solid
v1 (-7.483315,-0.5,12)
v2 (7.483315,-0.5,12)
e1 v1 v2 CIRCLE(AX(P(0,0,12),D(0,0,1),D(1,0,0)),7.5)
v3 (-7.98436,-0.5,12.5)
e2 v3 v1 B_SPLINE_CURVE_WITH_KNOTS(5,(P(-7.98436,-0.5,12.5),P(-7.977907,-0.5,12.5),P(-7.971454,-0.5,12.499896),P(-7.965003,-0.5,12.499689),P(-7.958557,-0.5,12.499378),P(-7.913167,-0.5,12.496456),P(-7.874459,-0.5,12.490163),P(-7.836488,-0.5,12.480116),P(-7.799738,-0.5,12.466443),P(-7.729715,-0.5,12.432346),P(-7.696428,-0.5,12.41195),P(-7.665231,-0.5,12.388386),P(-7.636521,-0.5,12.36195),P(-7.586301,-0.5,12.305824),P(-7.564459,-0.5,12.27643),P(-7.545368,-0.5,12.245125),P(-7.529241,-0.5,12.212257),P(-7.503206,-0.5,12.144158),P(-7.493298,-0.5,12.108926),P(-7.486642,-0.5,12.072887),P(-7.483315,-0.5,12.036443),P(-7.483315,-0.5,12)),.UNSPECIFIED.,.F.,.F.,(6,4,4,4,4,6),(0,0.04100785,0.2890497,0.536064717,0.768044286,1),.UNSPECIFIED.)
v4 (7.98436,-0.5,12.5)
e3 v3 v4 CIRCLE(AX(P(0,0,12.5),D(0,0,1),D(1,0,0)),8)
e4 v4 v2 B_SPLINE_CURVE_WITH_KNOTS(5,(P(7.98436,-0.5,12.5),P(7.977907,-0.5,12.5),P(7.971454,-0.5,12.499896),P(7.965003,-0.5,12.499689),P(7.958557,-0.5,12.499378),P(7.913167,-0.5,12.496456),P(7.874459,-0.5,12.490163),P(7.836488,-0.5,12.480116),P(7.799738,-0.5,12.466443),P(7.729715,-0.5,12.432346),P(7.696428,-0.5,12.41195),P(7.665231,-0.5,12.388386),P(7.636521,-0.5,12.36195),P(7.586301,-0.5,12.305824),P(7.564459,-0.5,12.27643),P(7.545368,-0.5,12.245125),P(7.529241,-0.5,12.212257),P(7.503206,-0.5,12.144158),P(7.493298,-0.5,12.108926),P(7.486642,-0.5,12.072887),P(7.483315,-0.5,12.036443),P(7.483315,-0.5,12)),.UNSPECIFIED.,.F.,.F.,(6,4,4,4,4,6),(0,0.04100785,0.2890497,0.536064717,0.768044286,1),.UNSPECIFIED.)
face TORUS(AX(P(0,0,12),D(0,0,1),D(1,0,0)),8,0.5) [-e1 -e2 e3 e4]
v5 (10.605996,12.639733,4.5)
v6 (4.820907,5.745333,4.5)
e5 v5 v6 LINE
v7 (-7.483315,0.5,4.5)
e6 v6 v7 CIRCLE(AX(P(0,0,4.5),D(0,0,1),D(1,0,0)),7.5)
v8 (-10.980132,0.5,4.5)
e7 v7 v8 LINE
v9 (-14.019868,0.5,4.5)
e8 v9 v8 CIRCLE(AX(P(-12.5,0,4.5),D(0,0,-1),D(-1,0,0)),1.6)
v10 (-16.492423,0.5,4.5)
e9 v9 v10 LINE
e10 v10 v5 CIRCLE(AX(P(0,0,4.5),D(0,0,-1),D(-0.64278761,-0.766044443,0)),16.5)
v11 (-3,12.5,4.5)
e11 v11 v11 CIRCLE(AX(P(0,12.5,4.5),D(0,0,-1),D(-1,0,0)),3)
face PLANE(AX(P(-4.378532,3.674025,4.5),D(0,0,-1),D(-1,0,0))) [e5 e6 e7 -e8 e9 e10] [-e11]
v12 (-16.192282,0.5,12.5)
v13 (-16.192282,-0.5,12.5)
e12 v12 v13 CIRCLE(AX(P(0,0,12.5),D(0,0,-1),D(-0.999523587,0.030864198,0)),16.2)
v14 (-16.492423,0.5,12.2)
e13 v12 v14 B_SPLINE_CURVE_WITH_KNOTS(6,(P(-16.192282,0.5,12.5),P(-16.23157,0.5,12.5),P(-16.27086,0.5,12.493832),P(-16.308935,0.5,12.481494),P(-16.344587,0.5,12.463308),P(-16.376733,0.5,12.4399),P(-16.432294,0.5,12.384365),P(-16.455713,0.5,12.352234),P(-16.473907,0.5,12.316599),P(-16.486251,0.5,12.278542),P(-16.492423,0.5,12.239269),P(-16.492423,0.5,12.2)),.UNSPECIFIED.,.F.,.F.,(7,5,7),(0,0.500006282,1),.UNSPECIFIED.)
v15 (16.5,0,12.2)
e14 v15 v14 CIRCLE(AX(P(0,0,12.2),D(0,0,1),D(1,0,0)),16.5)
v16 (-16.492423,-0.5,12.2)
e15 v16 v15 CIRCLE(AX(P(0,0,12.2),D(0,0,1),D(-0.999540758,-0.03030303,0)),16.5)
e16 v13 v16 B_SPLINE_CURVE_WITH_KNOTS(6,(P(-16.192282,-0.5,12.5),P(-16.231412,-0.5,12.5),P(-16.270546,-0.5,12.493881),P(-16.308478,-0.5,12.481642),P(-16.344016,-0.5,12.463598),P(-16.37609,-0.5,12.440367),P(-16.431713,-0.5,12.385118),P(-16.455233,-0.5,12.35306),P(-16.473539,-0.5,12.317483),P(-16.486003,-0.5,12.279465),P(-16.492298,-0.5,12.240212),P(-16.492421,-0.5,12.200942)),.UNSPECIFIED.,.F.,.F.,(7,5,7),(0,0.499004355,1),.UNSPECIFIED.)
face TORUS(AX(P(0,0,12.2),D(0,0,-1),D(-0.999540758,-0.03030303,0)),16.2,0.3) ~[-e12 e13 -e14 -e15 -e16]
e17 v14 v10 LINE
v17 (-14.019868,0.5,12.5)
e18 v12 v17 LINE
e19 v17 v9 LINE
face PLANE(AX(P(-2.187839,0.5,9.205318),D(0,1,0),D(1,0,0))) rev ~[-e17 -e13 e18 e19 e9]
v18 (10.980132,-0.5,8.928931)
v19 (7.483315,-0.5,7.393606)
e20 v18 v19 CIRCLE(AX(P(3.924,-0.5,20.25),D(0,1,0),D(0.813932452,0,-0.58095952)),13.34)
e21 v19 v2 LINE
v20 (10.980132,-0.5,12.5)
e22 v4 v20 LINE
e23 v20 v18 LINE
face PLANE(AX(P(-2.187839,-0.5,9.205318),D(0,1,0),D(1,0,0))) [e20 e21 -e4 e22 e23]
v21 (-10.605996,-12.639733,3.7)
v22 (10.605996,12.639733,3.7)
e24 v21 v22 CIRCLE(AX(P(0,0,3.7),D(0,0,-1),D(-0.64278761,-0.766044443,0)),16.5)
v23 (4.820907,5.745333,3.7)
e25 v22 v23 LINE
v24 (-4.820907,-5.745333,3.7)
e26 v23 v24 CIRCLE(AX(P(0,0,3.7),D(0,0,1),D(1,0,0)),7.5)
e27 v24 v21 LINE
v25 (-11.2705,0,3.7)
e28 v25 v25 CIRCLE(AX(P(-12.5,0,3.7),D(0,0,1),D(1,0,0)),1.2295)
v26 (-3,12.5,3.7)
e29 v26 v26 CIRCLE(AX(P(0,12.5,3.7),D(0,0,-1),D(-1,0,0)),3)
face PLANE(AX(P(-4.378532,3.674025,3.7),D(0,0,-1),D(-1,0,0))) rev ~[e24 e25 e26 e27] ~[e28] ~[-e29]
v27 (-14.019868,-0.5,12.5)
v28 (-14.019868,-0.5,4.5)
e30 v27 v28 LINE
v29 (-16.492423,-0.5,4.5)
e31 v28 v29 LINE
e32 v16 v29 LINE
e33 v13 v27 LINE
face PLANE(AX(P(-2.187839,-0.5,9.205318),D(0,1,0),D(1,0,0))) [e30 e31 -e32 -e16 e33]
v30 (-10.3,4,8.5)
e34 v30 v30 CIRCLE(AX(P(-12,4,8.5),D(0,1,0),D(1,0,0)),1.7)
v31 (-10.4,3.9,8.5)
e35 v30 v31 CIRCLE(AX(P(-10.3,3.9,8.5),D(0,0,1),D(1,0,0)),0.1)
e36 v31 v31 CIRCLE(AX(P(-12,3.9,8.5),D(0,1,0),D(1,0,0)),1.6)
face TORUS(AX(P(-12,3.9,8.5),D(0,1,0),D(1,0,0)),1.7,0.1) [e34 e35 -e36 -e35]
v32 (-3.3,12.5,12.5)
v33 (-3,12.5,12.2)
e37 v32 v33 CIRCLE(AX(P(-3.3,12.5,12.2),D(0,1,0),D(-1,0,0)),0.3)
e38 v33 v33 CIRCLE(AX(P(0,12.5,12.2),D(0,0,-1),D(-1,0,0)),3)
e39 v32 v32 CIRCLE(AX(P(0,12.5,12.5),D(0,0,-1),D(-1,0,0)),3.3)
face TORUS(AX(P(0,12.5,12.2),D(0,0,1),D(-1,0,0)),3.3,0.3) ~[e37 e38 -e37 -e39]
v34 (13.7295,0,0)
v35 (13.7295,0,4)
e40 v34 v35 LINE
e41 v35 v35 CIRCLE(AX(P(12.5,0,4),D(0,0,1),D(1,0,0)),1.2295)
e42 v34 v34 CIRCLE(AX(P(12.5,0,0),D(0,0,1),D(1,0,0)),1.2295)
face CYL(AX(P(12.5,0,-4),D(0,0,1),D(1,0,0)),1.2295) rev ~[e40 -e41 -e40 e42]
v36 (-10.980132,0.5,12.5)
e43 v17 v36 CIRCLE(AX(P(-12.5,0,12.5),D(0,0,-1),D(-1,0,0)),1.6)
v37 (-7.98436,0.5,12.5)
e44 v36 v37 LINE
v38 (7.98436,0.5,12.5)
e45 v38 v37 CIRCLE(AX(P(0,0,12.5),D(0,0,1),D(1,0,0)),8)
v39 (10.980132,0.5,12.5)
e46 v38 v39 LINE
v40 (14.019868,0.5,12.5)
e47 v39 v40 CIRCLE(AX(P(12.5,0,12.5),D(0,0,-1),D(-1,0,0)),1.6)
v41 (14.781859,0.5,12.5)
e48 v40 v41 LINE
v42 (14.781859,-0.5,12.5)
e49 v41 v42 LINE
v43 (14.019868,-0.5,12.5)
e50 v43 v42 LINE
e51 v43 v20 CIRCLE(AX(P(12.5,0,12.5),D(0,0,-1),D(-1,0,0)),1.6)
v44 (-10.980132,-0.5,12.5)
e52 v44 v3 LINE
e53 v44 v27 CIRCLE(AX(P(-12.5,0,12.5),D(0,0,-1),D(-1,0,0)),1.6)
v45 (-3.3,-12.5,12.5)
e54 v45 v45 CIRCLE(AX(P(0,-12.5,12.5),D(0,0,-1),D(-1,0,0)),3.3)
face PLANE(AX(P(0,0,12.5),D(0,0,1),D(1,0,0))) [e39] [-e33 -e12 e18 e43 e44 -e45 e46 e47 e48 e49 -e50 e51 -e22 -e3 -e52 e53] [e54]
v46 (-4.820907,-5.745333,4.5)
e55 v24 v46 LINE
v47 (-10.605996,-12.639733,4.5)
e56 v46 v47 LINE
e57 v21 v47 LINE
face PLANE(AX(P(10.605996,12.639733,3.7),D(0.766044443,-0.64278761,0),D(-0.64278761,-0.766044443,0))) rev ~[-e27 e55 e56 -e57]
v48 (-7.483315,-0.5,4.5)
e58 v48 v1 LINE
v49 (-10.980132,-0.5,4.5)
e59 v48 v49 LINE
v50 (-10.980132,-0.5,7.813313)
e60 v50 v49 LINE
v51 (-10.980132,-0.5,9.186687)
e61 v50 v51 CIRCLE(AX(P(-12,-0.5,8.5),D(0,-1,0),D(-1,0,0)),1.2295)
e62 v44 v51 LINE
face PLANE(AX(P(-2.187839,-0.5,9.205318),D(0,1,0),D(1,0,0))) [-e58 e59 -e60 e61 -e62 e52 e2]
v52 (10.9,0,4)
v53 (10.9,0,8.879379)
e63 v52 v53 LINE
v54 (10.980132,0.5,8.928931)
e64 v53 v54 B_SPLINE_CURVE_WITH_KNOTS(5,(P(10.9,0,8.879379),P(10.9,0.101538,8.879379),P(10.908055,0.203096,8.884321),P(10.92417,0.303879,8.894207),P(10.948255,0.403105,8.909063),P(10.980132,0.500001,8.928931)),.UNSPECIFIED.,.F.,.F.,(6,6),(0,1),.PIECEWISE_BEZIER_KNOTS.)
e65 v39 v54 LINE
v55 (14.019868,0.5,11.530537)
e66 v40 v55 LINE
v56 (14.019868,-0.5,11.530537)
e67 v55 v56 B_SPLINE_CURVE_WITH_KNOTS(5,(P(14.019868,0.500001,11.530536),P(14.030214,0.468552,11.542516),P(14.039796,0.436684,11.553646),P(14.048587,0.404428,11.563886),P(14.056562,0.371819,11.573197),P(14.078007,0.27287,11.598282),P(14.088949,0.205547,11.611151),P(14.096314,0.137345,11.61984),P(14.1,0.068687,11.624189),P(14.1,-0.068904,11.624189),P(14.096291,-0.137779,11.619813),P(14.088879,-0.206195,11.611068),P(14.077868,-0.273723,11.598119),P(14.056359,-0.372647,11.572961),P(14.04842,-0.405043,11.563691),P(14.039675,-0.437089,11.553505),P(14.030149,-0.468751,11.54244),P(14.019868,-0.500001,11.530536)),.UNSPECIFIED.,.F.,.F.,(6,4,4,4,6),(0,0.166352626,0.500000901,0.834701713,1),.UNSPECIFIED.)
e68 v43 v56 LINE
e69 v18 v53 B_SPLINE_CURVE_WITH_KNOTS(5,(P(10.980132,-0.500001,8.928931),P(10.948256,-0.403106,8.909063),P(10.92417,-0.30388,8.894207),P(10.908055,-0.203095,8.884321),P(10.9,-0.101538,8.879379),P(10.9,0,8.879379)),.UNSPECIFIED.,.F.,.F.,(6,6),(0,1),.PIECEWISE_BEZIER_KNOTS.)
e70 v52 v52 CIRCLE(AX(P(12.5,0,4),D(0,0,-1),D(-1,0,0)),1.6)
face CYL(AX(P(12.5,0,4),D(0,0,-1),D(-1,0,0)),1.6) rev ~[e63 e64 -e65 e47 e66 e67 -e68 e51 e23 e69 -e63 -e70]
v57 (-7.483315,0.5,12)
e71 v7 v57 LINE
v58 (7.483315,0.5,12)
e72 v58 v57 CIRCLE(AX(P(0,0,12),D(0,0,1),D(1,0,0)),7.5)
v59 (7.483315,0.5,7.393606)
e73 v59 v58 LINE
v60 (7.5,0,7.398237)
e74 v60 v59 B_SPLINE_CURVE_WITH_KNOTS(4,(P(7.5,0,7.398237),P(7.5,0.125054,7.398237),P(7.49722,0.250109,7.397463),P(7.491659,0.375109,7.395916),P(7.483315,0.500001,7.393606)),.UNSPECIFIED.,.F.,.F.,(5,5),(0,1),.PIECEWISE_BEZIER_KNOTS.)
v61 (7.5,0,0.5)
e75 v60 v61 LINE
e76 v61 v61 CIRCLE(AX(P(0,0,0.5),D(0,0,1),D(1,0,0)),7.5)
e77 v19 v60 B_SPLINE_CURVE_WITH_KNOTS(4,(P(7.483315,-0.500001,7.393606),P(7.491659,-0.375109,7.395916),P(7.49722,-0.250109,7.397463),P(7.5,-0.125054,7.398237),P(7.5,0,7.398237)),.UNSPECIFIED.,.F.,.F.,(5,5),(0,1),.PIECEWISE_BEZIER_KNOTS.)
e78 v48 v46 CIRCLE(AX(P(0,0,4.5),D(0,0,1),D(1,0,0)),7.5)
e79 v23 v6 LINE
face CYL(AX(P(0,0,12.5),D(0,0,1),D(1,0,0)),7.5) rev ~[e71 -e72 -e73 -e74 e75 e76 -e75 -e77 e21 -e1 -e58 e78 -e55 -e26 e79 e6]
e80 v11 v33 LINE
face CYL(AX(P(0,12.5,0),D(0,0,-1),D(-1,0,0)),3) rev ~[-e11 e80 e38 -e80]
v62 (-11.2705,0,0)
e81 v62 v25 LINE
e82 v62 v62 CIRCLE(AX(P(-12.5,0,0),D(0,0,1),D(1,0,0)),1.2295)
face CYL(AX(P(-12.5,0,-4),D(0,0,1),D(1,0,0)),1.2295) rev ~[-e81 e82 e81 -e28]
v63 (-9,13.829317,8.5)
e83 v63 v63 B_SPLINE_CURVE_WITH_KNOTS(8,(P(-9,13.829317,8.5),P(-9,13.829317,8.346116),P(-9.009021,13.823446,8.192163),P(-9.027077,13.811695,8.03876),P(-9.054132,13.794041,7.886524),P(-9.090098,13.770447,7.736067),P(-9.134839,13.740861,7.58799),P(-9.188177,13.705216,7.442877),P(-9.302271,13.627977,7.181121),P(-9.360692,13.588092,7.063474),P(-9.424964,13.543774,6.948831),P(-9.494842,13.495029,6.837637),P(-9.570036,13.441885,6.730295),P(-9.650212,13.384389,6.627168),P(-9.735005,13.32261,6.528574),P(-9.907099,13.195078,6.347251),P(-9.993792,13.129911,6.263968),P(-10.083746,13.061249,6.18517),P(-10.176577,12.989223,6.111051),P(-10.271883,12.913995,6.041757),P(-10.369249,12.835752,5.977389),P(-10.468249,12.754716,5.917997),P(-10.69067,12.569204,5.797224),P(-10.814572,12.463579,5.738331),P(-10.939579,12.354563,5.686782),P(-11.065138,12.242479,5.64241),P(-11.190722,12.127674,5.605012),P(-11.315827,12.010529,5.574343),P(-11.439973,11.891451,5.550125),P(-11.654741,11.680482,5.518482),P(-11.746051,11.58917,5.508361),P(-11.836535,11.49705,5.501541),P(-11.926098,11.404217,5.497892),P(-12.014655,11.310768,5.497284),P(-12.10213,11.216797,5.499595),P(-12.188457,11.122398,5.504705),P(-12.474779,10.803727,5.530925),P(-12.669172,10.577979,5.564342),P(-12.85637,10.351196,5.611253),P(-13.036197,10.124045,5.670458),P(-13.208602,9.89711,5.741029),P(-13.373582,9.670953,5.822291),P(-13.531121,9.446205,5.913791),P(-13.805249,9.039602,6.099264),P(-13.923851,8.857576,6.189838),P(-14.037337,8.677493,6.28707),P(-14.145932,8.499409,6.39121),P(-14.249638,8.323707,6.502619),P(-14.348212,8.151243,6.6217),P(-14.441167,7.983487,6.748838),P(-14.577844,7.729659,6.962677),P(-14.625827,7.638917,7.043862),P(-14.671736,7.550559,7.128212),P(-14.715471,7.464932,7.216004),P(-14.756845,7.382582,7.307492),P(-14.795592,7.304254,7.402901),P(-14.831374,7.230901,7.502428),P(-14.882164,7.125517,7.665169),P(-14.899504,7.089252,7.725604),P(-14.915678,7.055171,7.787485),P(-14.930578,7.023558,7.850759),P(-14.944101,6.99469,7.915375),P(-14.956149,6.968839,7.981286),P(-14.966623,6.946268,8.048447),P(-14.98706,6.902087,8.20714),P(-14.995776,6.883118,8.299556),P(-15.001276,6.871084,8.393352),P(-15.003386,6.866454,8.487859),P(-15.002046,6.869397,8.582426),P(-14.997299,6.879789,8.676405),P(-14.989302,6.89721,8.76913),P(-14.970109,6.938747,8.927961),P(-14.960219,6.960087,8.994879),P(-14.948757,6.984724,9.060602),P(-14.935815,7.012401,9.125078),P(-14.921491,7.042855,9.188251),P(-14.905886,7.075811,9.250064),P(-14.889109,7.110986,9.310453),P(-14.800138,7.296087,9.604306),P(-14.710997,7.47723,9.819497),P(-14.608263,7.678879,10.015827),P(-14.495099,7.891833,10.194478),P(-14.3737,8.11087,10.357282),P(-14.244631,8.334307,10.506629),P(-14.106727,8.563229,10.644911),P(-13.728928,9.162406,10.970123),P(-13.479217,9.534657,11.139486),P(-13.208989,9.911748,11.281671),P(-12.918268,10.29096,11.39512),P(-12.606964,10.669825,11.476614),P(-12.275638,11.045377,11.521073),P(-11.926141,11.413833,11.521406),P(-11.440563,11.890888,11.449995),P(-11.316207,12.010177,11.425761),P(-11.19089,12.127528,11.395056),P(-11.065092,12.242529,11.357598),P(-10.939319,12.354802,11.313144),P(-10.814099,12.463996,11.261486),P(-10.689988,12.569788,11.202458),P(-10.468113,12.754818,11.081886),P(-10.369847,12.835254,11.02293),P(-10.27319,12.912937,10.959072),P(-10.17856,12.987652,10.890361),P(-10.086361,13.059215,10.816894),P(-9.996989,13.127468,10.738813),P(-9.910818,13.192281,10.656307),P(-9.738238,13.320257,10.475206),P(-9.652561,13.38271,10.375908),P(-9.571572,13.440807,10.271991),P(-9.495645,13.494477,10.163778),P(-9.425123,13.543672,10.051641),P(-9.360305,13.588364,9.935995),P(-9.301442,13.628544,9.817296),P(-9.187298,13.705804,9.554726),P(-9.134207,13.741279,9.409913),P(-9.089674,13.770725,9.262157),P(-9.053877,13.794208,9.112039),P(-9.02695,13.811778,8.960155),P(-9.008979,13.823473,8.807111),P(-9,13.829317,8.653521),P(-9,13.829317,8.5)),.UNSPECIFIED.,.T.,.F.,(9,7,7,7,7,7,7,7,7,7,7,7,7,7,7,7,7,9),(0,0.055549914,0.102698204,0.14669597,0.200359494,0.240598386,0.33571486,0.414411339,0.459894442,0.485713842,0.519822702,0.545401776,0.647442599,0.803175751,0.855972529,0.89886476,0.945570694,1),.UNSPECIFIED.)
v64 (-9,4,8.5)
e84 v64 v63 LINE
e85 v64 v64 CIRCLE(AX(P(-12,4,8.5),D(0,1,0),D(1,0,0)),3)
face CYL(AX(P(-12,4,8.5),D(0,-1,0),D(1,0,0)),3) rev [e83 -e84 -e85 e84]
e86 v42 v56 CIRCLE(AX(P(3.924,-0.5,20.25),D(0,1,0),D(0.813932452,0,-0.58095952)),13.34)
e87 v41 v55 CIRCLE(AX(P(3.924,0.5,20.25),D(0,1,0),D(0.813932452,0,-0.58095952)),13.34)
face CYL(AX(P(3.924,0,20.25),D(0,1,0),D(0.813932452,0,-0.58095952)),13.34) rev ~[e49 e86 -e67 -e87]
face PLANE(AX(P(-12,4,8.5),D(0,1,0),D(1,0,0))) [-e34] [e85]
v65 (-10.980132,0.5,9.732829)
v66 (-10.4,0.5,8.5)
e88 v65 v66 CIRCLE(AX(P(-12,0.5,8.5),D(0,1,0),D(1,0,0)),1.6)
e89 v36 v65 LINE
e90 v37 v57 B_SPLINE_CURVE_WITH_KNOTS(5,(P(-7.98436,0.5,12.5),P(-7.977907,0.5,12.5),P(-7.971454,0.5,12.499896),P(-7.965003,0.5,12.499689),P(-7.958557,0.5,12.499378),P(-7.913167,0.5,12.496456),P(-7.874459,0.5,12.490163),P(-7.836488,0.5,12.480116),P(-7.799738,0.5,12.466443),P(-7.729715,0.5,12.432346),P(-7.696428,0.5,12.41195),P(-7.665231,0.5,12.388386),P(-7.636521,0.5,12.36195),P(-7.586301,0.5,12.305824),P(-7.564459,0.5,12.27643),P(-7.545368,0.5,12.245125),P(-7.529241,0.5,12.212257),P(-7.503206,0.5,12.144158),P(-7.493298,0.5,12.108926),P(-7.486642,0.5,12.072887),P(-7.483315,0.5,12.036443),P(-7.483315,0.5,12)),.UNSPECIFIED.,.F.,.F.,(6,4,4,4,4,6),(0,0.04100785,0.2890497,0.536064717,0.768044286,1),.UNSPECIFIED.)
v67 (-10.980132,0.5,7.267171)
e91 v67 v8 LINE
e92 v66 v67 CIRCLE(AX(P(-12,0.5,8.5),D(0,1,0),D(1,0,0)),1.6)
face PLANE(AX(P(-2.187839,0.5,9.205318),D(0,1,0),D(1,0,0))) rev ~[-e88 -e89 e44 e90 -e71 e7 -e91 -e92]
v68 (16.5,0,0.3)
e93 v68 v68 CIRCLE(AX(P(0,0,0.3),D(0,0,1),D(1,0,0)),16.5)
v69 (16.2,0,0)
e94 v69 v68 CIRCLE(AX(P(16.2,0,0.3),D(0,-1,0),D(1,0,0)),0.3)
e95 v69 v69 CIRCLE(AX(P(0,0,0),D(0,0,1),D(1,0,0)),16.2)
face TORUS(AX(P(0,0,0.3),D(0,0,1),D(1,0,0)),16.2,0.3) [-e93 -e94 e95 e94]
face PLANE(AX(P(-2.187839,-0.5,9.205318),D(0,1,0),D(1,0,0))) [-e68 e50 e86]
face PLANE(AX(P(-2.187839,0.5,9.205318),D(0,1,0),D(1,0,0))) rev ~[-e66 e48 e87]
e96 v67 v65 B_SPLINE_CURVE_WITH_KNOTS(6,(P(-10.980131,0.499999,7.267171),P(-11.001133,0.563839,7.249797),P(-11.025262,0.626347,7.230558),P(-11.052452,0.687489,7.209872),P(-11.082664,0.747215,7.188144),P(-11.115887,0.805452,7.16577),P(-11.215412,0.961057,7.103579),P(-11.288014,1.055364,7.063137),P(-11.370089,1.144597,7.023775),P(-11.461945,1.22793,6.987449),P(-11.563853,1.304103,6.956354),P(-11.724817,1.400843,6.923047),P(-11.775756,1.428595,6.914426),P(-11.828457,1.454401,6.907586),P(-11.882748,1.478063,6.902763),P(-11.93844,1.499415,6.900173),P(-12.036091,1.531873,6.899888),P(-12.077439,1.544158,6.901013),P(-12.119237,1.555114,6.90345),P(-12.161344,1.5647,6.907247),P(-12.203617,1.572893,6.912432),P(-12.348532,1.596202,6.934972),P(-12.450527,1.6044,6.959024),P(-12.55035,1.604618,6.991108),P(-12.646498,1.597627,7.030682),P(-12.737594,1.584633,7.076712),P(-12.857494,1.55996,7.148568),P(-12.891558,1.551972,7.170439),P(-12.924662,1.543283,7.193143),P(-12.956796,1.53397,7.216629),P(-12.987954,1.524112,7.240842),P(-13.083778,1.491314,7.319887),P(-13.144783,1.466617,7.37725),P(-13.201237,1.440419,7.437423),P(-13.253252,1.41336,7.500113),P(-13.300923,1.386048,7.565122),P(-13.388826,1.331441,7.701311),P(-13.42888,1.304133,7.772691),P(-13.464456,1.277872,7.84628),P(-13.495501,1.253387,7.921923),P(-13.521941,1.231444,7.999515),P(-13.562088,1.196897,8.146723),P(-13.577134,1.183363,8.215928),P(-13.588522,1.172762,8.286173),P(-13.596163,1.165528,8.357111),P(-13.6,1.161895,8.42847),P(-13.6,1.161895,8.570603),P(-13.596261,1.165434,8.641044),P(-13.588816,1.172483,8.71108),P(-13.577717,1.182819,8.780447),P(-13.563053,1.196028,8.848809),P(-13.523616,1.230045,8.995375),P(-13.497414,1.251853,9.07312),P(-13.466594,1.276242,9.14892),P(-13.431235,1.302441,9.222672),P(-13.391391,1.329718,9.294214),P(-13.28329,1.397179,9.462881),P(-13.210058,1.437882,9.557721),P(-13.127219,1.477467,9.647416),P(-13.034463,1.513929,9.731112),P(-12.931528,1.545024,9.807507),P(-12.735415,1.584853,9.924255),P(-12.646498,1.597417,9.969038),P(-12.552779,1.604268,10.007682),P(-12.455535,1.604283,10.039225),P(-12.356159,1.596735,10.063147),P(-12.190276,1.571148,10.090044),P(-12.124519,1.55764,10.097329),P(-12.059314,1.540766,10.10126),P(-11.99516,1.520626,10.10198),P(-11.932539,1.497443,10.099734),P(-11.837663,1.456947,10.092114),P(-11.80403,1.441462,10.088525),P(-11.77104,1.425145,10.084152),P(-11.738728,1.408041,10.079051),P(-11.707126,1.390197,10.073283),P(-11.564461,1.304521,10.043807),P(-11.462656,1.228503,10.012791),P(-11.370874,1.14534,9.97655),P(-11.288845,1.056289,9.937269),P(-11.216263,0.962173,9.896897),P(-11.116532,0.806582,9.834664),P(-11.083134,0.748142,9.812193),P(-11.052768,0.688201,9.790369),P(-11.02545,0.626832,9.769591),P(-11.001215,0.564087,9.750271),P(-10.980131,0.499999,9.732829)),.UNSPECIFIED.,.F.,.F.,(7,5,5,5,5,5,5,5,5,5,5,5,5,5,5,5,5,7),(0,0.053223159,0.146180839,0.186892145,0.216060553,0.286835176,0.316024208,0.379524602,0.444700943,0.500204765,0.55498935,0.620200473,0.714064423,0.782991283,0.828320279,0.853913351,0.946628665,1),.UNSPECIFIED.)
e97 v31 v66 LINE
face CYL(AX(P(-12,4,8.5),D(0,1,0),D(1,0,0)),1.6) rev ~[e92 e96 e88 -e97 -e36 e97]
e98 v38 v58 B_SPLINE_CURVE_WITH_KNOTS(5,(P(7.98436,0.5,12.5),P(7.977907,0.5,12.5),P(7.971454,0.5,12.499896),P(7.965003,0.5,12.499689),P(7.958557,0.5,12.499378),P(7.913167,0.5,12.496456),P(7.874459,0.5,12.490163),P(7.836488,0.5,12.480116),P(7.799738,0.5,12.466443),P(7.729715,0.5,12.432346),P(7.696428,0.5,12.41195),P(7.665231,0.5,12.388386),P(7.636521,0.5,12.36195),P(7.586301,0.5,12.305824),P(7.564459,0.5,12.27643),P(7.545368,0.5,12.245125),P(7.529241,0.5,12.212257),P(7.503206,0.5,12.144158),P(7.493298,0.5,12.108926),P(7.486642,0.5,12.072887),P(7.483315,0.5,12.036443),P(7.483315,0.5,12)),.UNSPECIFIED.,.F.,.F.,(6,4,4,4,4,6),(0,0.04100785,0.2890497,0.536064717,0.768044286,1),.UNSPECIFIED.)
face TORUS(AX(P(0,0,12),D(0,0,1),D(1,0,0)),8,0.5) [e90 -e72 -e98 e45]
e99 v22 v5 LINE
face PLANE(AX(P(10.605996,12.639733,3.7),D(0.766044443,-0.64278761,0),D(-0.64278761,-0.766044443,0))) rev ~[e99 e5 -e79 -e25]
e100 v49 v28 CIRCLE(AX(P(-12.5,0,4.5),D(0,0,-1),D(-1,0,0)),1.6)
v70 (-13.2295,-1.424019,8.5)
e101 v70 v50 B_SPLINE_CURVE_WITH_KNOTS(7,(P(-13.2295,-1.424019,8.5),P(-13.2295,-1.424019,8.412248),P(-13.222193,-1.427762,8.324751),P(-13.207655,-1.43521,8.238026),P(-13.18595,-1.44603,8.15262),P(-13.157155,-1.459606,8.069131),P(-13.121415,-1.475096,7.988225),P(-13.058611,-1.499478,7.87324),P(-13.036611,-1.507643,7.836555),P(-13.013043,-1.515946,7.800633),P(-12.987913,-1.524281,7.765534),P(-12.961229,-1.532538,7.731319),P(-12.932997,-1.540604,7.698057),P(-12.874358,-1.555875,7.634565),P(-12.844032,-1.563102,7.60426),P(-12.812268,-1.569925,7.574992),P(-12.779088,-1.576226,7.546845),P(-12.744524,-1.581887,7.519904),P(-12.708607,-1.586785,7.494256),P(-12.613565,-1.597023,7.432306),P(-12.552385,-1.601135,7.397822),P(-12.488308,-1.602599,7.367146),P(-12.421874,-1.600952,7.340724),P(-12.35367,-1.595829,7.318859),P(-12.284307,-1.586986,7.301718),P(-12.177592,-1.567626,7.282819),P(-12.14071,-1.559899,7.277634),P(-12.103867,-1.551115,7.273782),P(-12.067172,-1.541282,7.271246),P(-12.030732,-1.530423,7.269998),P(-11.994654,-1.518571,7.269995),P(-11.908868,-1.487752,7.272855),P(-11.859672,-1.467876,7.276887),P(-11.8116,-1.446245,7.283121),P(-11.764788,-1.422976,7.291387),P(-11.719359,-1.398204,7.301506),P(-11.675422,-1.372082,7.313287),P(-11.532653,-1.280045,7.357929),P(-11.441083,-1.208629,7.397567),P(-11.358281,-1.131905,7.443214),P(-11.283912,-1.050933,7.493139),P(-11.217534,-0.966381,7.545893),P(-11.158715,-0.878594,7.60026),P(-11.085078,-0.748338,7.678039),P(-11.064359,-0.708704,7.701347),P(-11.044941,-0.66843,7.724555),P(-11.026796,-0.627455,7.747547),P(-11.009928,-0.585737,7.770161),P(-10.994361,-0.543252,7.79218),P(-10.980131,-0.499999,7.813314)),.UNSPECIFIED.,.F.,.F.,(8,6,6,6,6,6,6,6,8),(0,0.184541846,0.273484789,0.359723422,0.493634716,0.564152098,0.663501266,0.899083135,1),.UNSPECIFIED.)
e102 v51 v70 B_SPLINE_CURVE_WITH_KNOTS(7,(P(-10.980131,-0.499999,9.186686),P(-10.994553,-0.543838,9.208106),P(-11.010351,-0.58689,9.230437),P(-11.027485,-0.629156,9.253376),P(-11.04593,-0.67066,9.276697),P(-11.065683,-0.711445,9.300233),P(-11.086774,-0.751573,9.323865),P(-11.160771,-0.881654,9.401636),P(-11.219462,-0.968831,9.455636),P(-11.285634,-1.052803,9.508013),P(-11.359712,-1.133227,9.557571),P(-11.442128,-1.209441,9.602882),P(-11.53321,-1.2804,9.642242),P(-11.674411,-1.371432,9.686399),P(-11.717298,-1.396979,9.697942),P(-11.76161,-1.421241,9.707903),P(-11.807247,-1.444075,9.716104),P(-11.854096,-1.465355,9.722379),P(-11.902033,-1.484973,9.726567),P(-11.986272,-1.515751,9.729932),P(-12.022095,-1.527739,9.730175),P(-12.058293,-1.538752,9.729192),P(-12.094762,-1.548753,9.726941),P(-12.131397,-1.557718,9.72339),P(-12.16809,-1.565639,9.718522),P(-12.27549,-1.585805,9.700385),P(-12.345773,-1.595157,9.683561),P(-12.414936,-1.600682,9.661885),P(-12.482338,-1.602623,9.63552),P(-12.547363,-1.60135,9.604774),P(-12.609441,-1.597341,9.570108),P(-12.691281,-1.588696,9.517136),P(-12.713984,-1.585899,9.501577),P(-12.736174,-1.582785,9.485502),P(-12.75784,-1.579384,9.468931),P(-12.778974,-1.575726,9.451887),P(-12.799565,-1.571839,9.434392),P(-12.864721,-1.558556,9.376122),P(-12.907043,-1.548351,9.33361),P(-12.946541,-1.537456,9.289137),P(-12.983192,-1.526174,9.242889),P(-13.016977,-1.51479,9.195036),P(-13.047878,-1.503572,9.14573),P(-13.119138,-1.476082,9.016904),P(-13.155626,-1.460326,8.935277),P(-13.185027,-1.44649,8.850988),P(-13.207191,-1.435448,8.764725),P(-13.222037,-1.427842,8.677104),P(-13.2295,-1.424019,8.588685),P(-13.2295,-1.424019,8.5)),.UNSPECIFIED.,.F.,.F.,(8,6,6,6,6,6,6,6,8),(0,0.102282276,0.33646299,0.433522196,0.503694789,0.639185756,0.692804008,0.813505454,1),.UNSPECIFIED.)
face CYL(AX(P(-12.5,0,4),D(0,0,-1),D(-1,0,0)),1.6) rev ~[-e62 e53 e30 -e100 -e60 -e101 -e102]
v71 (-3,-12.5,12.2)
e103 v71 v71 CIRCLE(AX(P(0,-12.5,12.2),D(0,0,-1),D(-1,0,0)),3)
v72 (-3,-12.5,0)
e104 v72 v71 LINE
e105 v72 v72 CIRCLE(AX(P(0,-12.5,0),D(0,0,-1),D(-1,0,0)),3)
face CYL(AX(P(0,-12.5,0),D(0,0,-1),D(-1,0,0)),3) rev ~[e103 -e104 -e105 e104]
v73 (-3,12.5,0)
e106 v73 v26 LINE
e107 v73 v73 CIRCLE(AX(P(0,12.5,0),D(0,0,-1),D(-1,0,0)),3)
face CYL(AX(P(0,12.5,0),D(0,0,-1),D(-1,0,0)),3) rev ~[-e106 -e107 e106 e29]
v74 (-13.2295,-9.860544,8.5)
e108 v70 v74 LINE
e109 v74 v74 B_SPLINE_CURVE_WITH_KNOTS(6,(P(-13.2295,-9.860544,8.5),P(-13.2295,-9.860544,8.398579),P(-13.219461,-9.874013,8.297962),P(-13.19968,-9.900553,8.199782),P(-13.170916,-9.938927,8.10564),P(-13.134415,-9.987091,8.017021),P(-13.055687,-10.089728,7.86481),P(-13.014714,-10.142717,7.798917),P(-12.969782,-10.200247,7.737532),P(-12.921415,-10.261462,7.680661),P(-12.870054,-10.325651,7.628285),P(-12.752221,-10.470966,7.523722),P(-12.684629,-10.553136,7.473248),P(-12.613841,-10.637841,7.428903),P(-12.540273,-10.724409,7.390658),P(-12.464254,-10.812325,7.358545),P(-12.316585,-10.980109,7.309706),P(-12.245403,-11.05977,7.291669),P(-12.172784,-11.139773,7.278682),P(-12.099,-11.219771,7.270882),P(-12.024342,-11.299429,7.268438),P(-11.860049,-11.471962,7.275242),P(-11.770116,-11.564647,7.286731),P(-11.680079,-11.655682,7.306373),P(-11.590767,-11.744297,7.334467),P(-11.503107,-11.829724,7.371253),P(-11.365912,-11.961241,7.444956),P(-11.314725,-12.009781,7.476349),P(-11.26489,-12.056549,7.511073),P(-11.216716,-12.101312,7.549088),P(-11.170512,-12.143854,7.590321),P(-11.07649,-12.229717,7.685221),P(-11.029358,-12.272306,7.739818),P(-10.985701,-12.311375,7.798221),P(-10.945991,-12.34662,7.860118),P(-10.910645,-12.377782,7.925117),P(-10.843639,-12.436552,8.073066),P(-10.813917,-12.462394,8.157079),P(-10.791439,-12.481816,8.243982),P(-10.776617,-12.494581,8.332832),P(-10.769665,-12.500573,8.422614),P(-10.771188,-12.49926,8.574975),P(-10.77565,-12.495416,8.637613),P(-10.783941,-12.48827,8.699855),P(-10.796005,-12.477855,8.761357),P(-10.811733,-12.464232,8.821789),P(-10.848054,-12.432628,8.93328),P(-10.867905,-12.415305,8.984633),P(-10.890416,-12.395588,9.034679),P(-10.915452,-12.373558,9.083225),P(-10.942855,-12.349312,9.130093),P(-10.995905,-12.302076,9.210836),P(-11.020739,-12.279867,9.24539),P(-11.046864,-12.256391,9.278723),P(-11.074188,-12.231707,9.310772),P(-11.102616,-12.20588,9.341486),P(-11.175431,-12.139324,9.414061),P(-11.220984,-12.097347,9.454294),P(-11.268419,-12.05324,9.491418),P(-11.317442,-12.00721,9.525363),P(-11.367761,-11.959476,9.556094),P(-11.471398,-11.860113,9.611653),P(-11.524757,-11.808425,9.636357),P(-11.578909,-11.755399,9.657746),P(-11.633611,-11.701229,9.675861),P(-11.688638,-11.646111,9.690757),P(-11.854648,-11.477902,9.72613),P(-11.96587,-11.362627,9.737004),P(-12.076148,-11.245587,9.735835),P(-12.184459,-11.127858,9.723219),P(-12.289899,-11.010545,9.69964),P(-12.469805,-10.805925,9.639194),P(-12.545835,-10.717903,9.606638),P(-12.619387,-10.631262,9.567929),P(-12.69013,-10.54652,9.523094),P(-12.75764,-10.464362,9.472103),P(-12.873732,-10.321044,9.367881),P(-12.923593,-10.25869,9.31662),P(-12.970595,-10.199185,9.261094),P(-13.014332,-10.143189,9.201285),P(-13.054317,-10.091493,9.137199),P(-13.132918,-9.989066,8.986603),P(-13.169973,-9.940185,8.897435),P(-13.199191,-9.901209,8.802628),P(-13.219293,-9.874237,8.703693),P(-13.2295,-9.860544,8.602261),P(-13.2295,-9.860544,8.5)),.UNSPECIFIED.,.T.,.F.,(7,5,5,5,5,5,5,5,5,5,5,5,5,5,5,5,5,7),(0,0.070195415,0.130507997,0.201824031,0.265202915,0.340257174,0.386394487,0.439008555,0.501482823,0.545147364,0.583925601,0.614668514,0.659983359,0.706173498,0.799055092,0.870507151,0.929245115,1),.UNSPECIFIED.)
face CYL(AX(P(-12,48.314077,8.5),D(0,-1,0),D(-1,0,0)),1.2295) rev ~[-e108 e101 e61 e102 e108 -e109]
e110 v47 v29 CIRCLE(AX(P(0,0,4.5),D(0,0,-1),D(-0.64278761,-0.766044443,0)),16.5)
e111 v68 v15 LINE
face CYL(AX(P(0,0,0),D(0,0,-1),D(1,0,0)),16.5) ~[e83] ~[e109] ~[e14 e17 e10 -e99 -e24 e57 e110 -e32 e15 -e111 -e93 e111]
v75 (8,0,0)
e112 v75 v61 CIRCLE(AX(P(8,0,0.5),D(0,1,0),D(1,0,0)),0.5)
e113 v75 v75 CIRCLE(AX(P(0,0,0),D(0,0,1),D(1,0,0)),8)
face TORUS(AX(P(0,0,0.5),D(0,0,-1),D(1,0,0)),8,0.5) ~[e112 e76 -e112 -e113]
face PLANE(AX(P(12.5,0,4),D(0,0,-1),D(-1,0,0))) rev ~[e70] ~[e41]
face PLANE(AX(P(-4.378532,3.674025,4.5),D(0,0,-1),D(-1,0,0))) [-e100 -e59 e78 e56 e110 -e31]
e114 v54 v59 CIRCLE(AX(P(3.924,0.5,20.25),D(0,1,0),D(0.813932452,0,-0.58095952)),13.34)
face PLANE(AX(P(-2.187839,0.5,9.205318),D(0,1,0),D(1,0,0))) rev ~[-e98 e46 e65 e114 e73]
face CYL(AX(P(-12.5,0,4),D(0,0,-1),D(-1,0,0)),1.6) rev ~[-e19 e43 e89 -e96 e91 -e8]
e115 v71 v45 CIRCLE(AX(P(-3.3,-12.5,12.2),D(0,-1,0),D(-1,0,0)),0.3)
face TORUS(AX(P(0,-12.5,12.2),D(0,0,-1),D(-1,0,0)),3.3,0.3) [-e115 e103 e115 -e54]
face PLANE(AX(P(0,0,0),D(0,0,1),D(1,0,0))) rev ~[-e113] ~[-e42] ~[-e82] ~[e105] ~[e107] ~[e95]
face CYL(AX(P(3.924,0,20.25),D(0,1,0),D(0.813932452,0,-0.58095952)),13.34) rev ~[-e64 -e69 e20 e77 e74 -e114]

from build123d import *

# Parameters (mm, degrees)
SKETCH1_R           = 16.5
BOSS_EXTRUDE1_DEPTH = 12.5
CUT_EXTRUDE21_DEPTH = 0.8
SKETCH4_R           = 7.5
CUT_EXTRUDE2_DEPTH  = 27.471682984
FILLET3_R           = 0.5
CUT_EXTRUDE11_DEPTH = 0.5
SKETCH5_R           = 3
CUT_EXTRUDE4_DEPTH  = 27.471683031
TAP1_D              = 2.459
TAP1_DEPTH          = 4
TAP1_TIP            = 0.738758131
SKETCH9_R           = 3
CUT_EXTRUDE6_DEPTH  = 30.133314307
SKETCH11_R          = 1.6
CUT_EXTRUDE7_DEPTH  = 4.5
TAP2_D              = 2.459
FILLET1_R           = 0.3
FILLET2_R           = 0.3
FILLET4_R           = 0.1
SKETCH16_R          = 1.6
CUT_EXTRUDE24_DEPTH = 25.834452043


with BuildPart() as part:
    # Sketch1 → Boss-Extrude1 (new body)
    with BuildSketch(Plane.XY):
        Circle(SKETCH1_R)
    extrude(amount=BOSS_EXTRUDE1_DEPTH)

    # Sketch2 → Cut-Extrude21 (cut)
    with BuildSketch(Plane(origin=(0, 0, 3.7), x_dir=(-1, 0, 0), z_dir=(0, 0, -1))):
        with BuildLine():
            Line((-10.60599556, 12.639733311), (10.60599556, -12.639733311))
            ThreePointArc((10.60599556, -12.639733311), (12.639733311, 10.60599556), (-10.60599556, 12.639733311))
        make_face()
    extrude(amount=-CUT_EXTRUDE21_DEPTH, mode=Mode.SUBTRACT)

    # Sketch4 → Cut-Extrude2 (cut, through all)
    with BuildSketch(Plane.XY.offset(12.5)):
        Circle(SKETCH4_R)
    extrude(amount=-CUT_EXTRUDE2_DEPTH, mode=Mode.SUBTRACT)

    # Fillet3
    fillet3_edges = [part.edges().sort_by_distance(p)[0] for p in [
        (-7.5, 0, 0),
        (-7.5, 0, 12.5),
    ]]
    fillet(fillet3_edges, radius=FILLET3_R)

    # Sketch3 → Cut-Extrude11 (cut, symmetric)
    with BuildSketch(Plane(origin=(0, 0, 0), x_dir=(1, 0, 0), z_dir=(0, 1, 0))):
        with BuildLine():
            Line((0, -4.5), (-16.5, -4.5))
            Line((-16.5, -4.5), (-16.5, -12.5))
            Line((-16.5, -12.5), (14.781858905, -12.5))
            ThreePointArc((14.781858905, -12.5), (8.198241617, -7.613289249), (0, -7.500183374))
            Line((0, -7.500183374), (0, -4.5))
        make_face()
    extrude(amount=CUT_EXTRUDE11_DEPTH, both=True, mode=Mode.SUBTRACT)

    # Sketch5 → Cut-Extrude4 (cut, through all)
    with BuildSketch(Plane(origin=(0, 0, 0), x_dir=(-1, 0, 0), z_dir=(0, 0, -1))):
        with Locations((0, 12.5)):
            Circle(SKETCH5_R)
        with Locations((0, -12.5)):
            Circle(SKETCH5_R)
    extrude(amount=-CUT_EXTRUDE4_DEPTH, mode=Mode.SUBTRACT)

    # Tap1
    with Locations(Plane(origin=(0, 0, 0), x_dir=(-1, 0, 0), z_dir=(0, 0, -1))):
        with Locations((-12.5, 0), (12.5, 0)):
            Hole(TAP1_D / 2, depth=TAP1_DEPTH)
            with Locations((0, 0, -(TAP1_DEPTH + TAP1_TIP / 2))):  # 118° drill point
                Cone(0, TAP1_D / 2, TAP1_TIP, mode=Mode.SUBTRACT)

    # Sketch9 → Cut-Extrude6 (cut, through all)
    with BuildSketch(Plane(origin=(0, 4, 0), x_dir=(1, 0, 0), z_dir=(0, 1, 0))):
        with Locations((-12, -8.5)):
            Circle(SKETCH9_R)
    extrude(amount=CUT_EXTRUDE6_DEPTH, mode=Mode.SUBTRACT)

    # Sketch11 → Cut-Extrude7 (cut)
    with BuildSketch(Plane(origin=(0, 4, 0), x_dir=(1, 0, 0), z_dir=(0, 1, 0))):
        with Locations((-12, -8.5)):
            Circle(SKETCH11_R)
    extrude(amount=-CUT_EXTRUDE7_DEPTH, mode=Mode.SUBTRACT)

    # Tap2 (through all)
    with Locations(Plane(origin=(0, 0, 0), x_dir=(1, 0, 0), z_dir=(0, 1, 0))):
        with Locations((-12, -8.5)):
            Hole(TAP2_D / 2)

    # Fillet1
    fillet1_edges = [part.edges().sort_by_distance(p)[0] for p in [
        (3, -12.5, 12.5),
        (3, 12.5, 12.5),
    ]]
    fillet(fillet1_edges, radius=FILLET1_R)

    # Fillet2
    fillet2_edges = [part.edges().sort_by_distance(p)[0] for p in [
        (-16.5, 0, 0),
        (0.250028708, 16.498105517, 12.5),
    ]]
    fillet(fillet2_edges, radius=FILLET2_R)

    # Fillet4
    fillet4_edges = [part.edges().sort_by_distance(p)[0] for p in [
        (-13.6, 4, 8.5),
    ]]
    fillet(fillet4_edges, radius=FILLET4_R)

    # Sketch16 → Cut-Extrude24 (cut, through all)
    with BuildSketch(Plane(origin=(0, 0, 4), x_dir=(-1, 0, 0), z_dir=(0, 0, -1))):
        with Locations((12.5, 0)):
            Circle(SKETCH16_R)
        with Locations((-12.5, 0)):
            Circle(SKETCH16_R)
    extrude(amount=-CUT_EXTRUDE24_DEPTH, mode=Mode.SUBTRACT)


solid = part.part
